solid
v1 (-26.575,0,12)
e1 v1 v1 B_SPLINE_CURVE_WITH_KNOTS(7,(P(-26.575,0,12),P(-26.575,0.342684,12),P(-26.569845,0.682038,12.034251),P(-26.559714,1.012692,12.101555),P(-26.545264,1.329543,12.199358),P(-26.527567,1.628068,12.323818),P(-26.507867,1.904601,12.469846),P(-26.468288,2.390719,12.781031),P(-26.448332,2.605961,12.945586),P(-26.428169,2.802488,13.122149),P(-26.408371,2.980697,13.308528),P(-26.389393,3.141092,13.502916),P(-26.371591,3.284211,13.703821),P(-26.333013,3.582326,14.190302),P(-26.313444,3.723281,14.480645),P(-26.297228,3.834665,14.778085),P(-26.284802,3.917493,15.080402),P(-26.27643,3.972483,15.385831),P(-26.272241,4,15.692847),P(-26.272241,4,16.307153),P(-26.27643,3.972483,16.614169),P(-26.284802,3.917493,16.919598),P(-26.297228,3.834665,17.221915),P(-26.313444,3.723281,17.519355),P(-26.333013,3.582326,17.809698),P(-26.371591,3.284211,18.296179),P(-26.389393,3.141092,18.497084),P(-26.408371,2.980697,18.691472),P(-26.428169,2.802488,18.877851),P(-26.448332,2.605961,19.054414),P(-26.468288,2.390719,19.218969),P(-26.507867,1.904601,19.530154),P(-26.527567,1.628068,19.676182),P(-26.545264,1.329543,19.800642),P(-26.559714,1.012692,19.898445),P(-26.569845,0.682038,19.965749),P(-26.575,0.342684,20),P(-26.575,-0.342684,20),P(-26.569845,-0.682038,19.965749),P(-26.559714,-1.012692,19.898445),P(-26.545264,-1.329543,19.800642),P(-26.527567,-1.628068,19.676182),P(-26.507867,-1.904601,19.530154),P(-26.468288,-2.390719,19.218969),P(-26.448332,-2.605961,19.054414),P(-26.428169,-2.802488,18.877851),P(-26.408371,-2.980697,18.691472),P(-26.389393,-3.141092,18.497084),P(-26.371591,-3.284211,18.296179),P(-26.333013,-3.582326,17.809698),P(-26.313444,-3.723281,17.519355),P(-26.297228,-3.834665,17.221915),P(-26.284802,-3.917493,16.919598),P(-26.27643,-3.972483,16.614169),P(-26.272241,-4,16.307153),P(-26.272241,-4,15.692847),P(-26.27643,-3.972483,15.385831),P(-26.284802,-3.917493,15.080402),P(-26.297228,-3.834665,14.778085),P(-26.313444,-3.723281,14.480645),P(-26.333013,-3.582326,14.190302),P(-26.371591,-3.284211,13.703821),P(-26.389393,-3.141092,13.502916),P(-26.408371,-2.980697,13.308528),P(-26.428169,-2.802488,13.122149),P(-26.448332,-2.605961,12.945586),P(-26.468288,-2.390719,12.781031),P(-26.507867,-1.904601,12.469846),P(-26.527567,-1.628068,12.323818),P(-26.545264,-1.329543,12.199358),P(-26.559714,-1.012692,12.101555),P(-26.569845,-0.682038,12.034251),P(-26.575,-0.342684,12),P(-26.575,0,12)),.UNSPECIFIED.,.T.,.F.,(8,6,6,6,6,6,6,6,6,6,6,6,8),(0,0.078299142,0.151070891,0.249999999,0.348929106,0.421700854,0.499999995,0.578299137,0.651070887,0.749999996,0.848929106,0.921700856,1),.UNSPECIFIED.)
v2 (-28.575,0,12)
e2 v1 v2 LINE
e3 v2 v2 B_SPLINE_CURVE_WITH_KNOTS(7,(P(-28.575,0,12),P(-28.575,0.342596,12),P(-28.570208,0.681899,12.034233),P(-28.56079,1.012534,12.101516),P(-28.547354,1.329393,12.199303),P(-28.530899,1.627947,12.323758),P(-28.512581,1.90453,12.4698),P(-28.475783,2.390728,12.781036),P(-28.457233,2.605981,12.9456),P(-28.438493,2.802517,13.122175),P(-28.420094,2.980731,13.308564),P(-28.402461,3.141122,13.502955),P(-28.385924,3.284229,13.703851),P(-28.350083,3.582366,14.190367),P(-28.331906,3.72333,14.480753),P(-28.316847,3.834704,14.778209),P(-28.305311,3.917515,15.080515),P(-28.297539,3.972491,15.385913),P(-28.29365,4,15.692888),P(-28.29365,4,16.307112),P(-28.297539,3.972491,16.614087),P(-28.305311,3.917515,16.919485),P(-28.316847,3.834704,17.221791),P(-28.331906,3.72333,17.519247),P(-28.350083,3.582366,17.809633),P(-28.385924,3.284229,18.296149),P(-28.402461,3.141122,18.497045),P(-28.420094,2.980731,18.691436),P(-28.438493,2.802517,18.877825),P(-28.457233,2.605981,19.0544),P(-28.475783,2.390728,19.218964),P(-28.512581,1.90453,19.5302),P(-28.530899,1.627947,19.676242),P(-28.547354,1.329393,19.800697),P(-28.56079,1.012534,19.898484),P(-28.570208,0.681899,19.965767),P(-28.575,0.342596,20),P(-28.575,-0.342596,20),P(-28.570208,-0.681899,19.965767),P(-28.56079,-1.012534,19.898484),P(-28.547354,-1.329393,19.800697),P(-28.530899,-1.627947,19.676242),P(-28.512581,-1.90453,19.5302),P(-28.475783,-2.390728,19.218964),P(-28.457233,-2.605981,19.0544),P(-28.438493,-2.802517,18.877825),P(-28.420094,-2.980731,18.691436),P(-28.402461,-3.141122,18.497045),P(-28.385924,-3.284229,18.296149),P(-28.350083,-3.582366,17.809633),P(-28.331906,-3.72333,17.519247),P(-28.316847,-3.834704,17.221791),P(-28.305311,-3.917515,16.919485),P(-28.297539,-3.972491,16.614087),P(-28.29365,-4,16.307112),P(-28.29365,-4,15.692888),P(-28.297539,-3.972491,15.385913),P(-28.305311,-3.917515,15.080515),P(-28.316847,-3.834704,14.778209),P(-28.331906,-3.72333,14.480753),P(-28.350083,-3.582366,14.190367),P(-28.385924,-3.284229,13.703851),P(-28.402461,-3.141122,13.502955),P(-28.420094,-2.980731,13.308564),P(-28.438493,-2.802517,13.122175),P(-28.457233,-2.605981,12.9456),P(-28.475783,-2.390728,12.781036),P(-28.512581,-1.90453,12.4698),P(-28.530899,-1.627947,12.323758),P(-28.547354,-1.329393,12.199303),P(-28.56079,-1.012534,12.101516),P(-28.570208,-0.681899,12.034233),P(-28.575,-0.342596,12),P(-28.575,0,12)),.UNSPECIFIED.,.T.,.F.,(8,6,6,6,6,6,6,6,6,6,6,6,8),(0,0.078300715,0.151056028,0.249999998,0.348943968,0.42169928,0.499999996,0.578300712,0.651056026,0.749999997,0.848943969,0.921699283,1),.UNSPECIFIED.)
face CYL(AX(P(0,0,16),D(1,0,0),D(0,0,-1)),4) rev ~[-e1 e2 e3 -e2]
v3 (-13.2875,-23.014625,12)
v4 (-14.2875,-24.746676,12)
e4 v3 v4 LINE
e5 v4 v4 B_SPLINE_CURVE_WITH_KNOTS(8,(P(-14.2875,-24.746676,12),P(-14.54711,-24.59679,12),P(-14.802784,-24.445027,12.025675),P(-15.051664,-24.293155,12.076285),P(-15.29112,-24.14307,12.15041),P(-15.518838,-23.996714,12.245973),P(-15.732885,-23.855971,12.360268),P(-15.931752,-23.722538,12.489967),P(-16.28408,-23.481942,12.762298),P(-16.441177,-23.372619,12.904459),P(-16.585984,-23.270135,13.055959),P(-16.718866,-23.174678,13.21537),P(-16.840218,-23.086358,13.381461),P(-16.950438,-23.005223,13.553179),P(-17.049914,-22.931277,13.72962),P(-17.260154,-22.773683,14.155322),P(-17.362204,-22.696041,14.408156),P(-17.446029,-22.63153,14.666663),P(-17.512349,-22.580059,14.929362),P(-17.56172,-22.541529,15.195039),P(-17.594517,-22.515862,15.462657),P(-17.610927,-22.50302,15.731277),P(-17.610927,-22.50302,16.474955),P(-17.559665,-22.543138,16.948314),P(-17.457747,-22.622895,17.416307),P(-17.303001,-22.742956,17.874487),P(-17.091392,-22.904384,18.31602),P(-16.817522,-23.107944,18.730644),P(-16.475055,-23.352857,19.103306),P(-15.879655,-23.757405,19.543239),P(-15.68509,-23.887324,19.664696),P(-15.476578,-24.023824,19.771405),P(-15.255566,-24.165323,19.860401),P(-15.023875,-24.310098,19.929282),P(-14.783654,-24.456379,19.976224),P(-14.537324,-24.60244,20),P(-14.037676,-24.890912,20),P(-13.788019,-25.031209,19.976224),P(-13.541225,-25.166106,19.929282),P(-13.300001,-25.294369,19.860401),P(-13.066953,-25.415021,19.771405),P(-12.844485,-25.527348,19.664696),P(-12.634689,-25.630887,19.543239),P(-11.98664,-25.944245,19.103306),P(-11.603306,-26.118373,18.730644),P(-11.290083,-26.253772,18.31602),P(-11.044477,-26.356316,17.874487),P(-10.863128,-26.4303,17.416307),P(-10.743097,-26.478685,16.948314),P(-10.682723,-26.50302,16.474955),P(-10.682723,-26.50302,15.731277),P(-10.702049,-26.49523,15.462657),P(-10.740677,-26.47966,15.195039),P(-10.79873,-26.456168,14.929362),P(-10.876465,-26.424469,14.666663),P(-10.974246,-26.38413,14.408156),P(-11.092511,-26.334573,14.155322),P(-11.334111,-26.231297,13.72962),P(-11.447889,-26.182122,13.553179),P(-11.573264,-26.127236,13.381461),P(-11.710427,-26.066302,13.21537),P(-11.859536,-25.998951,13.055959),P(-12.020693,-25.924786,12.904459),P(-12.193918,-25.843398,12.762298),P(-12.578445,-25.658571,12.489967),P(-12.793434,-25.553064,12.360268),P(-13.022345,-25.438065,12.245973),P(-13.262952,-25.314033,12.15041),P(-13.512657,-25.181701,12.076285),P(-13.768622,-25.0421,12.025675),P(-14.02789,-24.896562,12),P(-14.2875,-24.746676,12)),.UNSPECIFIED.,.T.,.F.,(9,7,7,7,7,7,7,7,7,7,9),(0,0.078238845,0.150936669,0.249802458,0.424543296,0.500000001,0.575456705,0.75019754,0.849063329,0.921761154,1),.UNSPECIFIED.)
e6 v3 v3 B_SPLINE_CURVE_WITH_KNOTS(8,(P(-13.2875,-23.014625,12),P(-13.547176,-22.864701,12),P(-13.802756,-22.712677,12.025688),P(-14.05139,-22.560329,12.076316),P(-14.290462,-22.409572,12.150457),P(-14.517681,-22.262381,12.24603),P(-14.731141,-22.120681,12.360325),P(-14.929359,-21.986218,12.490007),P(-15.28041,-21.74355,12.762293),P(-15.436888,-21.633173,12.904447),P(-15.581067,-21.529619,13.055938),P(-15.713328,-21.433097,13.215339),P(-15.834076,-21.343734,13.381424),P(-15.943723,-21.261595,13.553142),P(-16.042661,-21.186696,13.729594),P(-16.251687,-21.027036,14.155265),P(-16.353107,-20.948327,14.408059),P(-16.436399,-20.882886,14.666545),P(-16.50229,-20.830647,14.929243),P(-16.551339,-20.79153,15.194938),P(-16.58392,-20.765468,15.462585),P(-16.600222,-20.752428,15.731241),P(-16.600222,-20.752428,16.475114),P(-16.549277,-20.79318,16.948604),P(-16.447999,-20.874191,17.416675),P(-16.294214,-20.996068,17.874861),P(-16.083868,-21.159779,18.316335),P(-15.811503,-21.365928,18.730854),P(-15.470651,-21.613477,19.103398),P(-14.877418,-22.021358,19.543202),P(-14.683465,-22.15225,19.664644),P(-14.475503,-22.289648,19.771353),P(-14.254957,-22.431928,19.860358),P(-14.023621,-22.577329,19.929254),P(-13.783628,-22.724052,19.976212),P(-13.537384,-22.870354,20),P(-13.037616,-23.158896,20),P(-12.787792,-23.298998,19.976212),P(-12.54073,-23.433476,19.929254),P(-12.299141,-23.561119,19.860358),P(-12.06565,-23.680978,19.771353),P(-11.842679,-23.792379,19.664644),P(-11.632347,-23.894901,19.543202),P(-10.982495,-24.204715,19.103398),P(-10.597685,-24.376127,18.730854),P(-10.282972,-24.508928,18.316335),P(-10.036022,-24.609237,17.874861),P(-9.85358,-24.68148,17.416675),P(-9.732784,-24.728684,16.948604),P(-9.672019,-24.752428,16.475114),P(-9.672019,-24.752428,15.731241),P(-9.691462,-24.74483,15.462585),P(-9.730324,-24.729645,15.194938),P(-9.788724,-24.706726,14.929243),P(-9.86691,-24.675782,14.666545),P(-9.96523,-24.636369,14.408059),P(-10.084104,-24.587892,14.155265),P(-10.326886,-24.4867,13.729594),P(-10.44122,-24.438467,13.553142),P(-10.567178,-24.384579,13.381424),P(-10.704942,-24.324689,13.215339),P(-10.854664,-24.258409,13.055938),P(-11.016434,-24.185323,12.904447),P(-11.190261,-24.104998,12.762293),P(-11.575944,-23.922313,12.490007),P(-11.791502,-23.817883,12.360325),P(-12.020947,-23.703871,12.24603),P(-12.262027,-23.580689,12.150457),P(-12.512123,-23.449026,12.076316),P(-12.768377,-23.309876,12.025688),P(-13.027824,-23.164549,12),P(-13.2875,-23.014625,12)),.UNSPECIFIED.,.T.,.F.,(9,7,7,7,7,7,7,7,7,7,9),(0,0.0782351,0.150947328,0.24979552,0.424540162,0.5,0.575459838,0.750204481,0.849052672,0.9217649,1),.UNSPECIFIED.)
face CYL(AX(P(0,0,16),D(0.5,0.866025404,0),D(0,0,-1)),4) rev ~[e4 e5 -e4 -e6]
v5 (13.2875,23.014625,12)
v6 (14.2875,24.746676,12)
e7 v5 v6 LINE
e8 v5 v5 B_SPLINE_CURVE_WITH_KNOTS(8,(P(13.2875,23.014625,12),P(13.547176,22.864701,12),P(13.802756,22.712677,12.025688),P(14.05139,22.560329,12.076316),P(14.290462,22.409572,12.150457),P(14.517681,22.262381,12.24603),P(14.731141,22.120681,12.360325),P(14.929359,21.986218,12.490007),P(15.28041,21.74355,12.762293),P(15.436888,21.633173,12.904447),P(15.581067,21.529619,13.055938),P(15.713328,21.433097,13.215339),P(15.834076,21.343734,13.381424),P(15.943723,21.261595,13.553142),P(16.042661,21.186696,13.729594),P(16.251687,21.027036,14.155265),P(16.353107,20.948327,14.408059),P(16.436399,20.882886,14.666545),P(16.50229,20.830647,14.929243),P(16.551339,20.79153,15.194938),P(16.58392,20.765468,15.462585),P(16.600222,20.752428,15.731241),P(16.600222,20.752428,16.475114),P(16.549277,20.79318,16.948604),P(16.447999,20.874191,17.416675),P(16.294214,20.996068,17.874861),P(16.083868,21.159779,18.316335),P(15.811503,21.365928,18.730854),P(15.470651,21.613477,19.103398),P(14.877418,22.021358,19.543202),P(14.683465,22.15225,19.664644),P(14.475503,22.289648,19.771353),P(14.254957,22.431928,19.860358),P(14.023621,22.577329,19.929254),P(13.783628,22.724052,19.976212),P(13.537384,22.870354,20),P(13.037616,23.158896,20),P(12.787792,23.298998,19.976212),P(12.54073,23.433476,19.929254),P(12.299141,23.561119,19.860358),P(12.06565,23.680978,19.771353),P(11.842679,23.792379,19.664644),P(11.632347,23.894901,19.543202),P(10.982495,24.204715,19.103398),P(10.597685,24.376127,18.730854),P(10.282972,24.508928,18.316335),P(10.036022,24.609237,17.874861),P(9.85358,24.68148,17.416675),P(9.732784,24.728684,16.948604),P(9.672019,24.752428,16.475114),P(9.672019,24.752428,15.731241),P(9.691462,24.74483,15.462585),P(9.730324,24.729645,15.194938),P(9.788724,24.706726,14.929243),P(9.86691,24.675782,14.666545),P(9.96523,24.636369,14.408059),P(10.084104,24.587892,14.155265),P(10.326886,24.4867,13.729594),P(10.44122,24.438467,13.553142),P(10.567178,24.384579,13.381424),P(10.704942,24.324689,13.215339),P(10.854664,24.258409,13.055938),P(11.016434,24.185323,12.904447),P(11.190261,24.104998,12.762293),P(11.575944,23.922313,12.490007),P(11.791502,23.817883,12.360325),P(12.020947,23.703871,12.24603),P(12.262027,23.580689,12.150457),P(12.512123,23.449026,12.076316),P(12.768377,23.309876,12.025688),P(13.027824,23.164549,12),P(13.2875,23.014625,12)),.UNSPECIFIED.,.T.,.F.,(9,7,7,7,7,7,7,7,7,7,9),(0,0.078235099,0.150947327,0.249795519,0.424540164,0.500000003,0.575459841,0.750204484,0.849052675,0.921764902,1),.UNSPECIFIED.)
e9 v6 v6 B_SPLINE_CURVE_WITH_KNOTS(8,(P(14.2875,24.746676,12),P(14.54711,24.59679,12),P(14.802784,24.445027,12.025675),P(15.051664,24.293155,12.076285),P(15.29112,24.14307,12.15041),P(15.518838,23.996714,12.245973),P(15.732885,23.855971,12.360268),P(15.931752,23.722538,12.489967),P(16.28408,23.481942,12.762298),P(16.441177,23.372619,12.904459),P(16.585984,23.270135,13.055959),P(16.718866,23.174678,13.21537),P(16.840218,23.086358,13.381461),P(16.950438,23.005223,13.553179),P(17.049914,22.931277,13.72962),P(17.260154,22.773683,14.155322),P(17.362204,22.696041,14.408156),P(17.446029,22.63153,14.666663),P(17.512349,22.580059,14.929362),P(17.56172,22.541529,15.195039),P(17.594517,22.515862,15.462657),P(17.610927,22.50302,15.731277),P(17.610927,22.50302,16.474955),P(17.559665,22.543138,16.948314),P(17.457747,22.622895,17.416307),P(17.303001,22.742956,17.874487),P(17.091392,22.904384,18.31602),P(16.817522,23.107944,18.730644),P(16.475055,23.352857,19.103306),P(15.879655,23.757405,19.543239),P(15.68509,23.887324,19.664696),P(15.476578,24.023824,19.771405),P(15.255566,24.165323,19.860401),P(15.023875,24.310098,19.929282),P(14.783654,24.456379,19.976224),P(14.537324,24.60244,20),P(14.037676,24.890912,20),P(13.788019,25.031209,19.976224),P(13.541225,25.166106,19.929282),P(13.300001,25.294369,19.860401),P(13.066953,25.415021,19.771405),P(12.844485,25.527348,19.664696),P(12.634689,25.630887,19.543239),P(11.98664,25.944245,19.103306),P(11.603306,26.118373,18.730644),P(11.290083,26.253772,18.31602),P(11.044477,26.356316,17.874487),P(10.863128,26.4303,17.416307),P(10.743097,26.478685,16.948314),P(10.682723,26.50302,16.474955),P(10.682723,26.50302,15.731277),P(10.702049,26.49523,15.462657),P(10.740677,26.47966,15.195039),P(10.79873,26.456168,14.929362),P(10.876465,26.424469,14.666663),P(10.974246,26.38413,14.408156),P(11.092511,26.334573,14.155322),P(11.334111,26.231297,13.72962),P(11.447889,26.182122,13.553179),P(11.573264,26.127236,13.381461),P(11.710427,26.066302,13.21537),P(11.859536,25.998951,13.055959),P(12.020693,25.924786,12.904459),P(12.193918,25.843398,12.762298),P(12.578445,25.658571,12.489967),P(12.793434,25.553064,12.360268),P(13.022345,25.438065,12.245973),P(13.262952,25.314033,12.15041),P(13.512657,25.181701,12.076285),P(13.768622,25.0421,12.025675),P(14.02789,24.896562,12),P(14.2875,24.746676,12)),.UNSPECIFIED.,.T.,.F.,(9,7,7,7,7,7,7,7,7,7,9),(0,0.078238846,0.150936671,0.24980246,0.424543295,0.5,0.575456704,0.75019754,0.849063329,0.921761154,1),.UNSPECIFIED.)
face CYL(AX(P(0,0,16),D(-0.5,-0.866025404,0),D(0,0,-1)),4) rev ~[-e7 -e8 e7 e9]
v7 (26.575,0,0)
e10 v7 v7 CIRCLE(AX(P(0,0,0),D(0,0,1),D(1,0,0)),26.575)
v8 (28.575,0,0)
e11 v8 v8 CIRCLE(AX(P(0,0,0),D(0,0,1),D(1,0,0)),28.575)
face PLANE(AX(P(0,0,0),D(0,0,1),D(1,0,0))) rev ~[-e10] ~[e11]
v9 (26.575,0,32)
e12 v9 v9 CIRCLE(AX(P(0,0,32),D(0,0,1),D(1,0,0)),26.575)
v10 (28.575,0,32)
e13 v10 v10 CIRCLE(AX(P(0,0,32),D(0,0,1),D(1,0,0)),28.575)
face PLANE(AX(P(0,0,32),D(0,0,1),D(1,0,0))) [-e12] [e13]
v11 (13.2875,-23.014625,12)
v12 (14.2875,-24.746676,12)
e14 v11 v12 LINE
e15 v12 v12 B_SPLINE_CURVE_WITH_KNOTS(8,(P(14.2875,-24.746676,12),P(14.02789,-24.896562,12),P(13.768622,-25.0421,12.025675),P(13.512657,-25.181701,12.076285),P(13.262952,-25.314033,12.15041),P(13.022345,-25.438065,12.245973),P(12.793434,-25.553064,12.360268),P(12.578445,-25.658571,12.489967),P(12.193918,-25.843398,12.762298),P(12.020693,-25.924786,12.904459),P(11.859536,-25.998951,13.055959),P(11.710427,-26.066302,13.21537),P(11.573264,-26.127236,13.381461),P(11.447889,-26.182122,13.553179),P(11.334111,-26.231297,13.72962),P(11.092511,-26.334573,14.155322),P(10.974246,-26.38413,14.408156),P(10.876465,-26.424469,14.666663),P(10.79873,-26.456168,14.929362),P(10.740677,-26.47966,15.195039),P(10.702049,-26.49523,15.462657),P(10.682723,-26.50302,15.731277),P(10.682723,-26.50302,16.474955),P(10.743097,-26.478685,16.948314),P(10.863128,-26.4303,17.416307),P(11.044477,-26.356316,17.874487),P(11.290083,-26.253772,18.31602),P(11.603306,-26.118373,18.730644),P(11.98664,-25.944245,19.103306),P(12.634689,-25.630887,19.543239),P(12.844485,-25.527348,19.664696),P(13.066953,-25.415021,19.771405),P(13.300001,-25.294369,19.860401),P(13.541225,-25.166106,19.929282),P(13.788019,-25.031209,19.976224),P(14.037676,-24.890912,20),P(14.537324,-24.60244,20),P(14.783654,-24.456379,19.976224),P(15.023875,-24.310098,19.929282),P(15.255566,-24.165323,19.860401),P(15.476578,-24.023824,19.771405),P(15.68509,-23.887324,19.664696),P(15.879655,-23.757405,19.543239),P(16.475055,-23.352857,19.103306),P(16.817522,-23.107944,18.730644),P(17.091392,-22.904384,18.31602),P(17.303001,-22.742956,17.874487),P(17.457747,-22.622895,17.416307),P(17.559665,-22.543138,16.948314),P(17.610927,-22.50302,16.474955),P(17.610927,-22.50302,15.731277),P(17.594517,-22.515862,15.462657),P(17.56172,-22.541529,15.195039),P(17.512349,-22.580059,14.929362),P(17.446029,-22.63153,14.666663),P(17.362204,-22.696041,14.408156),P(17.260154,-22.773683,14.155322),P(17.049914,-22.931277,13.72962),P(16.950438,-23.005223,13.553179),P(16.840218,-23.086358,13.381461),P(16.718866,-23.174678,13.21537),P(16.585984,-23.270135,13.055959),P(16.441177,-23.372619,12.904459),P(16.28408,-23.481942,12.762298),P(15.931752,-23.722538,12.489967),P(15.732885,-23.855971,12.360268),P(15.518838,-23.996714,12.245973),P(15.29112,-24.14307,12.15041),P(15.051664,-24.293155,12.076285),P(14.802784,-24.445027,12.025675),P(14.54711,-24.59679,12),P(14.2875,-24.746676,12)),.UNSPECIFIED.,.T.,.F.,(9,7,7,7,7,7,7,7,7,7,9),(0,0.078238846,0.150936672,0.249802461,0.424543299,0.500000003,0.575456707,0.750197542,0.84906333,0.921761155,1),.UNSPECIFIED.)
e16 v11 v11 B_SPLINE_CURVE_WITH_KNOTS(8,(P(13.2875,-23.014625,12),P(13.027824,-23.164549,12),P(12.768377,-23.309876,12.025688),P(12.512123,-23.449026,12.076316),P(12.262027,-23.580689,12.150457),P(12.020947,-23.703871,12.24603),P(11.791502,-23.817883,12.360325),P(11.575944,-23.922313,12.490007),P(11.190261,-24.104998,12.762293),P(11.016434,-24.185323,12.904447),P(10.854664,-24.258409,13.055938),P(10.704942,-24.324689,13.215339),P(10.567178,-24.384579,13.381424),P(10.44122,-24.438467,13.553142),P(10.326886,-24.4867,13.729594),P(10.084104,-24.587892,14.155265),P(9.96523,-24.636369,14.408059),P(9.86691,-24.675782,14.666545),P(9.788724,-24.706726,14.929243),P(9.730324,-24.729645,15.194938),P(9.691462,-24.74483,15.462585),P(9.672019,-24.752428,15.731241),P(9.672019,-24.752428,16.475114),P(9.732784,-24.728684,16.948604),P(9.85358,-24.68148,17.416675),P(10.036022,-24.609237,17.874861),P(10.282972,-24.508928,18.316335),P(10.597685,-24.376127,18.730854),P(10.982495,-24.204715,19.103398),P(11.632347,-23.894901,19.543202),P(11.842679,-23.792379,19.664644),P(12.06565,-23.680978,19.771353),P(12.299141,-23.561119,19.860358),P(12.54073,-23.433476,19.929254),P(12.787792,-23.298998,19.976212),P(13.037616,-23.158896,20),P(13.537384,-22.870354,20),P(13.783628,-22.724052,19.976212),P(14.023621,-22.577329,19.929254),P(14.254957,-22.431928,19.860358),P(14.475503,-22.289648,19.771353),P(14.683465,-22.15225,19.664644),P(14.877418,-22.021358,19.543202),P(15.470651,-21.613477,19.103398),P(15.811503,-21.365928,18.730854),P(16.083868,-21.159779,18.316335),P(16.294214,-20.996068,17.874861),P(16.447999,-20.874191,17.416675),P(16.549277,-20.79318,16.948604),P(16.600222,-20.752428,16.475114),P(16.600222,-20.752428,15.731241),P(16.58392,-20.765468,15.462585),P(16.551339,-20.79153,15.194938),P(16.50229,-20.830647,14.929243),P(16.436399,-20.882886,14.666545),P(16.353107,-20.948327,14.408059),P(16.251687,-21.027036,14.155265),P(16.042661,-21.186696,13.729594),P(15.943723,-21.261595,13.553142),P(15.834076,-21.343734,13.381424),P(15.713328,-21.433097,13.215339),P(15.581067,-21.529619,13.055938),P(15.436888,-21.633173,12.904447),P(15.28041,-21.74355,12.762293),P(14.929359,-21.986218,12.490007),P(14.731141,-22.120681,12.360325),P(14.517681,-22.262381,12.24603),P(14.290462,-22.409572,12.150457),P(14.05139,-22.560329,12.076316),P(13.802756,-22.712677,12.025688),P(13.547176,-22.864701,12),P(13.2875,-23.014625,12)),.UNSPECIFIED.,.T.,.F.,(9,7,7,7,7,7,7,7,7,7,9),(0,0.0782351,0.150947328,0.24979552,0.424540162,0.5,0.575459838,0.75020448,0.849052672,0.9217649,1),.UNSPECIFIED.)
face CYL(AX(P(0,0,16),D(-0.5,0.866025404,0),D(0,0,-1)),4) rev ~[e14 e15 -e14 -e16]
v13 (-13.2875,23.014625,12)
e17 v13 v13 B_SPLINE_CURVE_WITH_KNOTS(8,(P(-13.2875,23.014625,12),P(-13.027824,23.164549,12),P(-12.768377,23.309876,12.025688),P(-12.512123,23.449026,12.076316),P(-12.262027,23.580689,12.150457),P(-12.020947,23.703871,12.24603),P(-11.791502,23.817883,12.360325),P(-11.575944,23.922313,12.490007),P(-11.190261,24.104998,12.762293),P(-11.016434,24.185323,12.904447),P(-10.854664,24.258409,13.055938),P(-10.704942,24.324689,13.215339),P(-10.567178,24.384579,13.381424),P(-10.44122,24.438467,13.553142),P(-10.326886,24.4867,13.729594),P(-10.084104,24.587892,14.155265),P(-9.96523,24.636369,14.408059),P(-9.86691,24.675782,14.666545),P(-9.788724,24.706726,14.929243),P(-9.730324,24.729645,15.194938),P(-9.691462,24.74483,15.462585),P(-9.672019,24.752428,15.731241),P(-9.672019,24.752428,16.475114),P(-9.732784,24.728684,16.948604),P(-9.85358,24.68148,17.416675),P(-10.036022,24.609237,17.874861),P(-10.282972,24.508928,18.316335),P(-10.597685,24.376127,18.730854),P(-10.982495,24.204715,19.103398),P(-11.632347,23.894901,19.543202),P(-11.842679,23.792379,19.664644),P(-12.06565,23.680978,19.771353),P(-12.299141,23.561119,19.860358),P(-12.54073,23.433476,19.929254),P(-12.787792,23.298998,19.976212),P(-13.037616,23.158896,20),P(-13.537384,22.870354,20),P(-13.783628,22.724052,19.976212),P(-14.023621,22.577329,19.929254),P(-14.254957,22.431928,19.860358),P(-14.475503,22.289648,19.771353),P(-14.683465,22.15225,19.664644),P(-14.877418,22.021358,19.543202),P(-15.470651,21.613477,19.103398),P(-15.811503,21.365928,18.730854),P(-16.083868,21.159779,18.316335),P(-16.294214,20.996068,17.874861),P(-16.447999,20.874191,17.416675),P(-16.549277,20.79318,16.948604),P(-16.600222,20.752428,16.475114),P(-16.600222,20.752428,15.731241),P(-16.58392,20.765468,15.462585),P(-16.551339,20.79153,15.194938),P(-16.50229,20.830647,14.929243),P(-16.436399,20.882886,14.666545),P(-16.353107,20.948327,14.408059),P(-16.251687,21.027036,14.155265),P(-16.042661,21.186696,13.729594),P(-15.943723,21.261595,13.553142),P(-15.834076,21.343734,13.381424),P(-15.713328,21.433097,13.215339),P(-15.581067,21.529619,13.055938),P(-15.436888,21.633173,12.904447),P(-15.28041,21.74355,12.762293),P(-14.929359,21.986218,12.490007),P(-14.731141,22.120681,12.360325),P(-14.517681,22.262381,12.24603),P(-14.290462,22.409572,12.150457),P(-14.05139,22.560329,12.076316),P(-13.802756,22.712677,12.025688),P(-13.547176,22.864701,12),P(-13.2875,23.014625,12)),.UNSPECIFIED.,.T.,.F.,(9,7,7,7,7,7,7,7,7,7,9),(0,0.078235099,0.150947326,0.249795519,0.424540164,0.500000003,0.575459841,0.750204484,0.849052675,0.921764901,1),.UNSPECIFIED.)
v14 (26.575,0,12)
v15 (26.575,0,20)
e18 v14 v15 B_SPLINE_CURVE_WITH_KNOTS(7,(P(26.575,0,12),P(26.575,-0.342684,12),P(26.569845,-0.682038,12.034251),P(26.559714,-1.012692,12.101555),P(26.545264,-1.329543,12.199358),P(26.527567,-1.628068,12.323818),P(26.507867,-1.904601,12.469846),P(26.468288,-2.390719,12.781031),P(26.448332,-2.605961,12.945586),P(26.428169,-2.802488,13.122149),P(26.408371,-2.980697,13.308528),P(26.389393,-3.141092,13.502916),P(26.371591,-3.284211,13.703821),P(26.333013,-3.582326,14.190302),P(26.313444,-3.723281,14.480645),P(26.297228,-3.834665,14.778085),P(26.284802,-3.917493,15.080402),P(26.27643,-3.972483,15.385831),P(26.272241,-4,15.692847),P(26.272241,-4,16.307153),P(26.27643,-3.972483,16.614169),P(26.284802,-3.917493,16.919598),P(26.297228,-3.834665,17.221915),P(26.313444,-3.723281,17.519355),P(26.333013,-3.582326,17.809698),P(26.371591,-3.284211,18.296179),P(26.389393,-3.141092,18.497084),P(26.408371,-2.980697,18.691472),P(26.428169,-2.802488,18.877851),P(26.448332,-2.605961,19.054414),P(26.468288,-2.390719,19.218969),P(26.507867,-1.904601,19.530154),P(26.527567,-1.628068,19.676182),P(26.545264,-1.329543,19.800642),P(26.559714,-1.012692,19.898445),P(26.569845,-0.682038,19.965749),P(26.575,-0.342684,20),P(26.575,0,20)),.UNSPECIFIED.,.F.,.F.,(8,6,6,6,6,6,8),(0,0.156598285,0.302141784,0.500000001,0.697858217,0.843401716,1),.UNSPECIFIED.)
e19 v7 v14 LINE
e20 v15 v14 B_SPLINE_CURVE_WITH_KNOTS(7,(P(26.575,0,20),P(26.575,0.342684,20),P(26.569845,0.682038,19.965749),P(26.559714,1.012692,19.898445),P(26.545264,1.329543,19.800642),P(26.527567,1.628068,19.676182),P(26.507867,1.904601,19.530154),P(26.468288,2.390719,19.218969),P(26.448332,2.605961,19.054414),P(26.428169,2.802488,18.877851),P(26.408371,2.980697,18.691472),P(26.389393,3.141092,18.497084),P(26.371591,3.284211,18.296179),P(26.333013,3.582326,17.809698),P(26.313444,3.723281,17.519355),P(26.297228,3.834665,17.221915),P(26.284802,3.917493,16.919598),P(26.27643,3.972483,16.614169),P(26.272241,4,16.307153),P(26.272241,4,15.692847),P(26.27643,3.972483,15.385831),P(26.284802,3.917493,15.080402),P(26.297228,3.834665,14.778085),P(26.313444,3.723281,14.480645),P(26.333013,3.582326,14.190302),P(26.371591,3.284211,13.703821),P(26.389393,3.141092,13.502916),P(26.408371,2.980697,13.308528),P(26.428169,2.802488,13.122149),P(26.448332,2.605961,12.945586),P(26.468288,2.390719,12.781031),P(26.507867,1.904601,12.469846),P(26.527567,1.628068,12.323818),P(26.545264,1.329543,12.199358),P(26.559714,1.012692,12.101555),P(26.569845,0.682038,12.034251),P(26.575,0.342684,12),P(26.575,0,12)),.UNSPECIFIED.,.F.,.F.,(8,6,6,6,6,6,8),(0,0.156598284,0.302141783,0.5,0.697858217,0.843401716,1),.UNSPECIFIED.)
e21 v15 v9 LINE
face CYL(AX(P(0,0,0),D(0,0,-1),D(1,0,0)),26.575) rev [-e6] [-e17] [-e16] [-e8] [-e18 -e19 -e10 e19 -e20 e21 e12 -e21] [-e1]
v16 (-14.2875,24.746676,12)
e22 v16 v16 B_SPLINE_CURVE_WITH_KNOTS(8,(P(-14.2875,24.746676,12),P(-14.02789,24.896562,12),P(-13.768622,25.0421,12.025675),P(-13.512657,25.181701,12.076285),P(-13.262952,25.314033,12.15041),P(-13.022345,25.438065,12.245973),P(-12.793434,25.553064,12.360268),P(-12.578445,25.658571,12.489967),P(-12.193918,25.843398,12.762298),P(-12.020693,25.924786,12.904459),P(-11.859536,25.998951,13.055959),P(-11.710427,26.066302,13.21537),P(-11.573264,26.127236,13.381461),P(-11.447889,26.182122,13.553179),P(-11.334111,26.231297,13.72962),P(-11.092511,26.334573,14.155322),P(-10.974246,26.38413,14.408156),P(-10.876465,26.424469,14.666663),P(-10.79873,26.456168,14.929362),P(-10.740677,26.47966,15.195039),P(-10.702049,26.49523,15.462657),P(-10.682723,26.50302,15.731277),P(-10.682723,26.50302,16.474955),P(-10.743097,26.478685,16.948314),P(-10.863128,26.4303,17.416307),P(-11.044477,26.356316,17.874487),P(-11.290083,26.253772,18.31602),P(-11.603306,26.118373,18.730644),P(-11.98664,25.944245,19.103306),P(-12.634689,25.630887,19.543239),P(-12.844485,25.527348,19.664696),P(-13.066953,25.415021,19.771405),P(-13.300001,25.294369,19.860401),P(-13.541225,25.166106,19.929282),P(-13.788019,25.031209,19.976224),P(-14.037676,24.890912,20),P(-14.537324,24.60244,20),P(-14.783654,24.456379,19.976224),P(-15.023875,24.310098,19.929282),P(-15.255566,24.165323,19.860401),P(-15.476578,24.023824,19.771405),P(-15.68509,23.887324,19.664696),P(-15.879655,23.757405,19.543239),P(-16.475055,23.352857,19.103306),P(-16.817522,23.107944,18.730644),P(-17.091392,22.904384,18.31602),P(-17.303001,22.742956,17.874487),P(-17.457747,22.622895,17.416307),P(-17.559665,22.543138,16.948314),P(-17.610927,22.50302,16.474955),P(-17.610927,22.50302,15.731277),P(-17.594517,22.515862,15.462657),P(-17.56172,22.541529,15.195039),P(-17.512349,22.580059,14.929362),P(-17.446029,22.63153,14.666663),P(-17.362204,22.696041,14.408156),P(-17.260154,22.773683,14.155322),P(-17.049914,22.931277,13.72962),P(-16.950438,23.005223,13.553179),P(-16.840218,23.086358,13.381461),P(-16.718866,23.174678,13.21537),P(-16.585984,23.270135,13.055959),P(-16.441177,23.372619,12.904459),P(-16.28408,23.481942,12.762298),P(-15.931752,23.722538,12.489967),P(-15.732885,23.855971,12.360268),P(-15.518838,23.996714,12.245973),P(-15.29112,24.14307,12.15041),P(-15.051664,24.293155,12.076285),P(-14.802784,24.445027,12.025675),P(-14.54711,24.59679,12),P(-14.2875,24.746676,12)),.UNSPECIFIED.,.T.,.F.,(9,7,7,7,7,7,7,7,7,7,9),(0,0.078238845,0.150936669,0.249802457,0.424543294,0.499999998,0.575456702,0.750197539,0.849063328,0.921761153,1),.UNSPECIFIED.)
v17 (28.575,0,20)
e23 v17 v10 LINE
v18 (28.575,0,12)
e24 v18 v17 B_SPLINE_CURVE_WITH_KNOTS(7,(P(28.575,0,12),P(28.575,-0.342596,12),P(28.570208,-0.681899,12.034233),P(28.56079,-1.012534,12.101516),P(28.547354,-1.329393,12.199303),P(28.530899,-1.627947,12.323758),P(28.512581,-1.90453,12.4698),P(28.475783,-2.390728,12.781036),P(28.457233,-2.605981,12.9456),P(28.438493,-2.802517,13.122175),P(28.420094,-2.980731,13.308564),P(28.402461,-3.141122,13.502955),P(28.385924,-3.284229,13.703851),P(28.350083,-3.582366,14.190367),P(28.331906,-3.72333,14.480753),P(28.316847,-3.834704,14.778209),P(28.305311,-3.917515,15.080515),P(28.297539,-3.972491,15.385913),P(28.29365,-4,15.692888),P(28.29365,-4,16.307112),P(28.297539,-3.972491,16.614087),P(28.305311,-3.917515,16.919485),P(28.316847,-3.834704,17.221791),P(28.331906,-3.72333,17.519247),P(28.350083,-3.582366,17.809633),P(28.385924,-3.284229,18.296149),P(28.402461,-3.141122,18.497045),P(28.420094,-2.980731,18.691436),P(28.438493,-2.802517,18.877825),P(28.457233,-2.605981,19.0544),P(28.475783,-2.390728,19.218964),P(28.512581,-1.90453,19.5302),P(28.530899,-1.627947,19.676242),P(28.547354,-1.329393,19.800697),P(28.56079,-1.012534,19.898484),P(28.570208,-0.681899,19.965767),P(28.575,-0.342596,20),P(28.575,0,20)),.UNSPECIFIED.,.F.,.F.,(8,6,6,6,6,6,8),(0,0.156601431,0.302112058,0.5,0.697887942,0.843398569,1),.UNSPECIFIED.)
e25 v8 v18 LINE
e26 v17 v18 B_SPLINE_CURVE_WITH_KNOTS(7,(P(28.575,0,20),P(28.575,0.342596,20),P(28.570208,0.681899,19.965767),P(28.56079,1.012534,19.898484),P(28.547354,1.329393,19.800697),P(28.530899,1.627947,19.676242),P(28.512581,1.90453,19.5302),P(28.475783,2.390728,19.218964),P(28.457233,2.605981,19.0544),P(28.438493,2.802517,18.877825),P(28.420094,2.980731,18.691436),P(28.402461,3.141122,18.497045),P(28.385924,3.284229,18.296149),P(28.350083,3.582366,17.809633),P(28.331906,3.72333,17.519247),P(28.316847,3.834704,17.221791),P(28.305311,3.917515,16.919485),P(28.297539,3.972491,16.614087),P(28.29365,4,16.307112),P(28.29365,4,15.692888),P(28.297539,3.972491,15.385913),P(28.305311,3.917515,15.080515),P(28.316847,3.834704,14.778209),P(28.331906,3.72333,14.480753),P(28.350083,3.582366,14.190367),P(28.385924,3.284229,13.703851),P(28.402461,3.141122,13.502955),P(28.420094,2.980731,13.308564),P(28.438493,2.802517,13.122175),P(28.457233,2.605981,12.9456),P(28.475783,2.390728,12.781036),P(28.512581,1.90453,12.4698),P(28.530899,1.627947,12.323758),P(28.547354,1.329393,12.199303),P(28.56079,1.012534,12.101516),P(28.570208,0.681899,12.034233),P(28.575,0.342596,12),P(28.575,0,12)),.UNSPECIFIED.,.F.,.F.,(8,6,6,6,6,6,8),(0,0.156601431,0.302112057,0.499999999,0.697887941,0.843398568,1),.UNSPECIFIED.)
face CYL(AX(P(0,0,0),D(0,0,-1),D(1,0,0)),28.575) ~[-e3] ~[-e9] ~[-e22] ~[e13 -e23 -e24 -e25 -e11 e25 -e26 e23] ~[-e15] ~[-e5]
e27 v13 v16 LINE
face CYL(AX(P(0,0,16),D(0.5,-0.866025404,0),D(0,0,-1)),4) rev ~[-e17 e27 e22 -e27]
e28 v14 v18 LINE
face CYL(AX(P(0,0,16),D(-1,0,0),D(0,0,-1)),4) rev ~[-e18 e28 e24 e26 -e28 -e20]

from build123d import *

# Parameters (mm, degrees)
ESBO_O1_R                = 28.575
ESBO_O1_R_2              = 26.575
RESSALTO_EXTRUS_O1_DEPTH = 32
ESBO_O2_R                = 4
CORTE_EXTRUS_O1_DEPTH    = 32
PADR_OCIRCULAR1_COUNT    = 6


with BuildPart() as part:
    # Esboço1 → Ressalto-extrusão1 (new body)
    with BuildSketch(Plane.XY):
        Circle(ESBO_O1_R)
        Circle(ESBO_O1_R_2, mode=Mode.SUBTRACT)
    extrude(amount=RESSALTO_EXTRUS_O1_DEPTH)

    # Esboço2 → Corte-extrusão1 (cut)
    with BuildSketch(Plane(origin=(0, 0, 0), x_dir=(0, 0, -1), z_dir=(1, 0, 0))):
        with Locations((-16, 0)):
            Circle(ESBO_O2_R)
    corte_extrus_o1 = extrude(amount=-CORTE_EXTRUS_O1_DEPTH, mode=Mode.SUBTRACT)

    # PadrãoCircular1: Corte-extrusão1 ×6 about axis
    padr_ocircular1_axis = Axis((0, 0, 32), (0, 0, -1))
    for i in range(1, PADR_OCIRCULAR1_COUNT):
        add(corte_extrus_o1.rotate(padr_ocircular1_axis, i * 360 / PADR_OCIRCULAR1_COUNT), mode=Mode.SUBTRACT)


solid = part.part
